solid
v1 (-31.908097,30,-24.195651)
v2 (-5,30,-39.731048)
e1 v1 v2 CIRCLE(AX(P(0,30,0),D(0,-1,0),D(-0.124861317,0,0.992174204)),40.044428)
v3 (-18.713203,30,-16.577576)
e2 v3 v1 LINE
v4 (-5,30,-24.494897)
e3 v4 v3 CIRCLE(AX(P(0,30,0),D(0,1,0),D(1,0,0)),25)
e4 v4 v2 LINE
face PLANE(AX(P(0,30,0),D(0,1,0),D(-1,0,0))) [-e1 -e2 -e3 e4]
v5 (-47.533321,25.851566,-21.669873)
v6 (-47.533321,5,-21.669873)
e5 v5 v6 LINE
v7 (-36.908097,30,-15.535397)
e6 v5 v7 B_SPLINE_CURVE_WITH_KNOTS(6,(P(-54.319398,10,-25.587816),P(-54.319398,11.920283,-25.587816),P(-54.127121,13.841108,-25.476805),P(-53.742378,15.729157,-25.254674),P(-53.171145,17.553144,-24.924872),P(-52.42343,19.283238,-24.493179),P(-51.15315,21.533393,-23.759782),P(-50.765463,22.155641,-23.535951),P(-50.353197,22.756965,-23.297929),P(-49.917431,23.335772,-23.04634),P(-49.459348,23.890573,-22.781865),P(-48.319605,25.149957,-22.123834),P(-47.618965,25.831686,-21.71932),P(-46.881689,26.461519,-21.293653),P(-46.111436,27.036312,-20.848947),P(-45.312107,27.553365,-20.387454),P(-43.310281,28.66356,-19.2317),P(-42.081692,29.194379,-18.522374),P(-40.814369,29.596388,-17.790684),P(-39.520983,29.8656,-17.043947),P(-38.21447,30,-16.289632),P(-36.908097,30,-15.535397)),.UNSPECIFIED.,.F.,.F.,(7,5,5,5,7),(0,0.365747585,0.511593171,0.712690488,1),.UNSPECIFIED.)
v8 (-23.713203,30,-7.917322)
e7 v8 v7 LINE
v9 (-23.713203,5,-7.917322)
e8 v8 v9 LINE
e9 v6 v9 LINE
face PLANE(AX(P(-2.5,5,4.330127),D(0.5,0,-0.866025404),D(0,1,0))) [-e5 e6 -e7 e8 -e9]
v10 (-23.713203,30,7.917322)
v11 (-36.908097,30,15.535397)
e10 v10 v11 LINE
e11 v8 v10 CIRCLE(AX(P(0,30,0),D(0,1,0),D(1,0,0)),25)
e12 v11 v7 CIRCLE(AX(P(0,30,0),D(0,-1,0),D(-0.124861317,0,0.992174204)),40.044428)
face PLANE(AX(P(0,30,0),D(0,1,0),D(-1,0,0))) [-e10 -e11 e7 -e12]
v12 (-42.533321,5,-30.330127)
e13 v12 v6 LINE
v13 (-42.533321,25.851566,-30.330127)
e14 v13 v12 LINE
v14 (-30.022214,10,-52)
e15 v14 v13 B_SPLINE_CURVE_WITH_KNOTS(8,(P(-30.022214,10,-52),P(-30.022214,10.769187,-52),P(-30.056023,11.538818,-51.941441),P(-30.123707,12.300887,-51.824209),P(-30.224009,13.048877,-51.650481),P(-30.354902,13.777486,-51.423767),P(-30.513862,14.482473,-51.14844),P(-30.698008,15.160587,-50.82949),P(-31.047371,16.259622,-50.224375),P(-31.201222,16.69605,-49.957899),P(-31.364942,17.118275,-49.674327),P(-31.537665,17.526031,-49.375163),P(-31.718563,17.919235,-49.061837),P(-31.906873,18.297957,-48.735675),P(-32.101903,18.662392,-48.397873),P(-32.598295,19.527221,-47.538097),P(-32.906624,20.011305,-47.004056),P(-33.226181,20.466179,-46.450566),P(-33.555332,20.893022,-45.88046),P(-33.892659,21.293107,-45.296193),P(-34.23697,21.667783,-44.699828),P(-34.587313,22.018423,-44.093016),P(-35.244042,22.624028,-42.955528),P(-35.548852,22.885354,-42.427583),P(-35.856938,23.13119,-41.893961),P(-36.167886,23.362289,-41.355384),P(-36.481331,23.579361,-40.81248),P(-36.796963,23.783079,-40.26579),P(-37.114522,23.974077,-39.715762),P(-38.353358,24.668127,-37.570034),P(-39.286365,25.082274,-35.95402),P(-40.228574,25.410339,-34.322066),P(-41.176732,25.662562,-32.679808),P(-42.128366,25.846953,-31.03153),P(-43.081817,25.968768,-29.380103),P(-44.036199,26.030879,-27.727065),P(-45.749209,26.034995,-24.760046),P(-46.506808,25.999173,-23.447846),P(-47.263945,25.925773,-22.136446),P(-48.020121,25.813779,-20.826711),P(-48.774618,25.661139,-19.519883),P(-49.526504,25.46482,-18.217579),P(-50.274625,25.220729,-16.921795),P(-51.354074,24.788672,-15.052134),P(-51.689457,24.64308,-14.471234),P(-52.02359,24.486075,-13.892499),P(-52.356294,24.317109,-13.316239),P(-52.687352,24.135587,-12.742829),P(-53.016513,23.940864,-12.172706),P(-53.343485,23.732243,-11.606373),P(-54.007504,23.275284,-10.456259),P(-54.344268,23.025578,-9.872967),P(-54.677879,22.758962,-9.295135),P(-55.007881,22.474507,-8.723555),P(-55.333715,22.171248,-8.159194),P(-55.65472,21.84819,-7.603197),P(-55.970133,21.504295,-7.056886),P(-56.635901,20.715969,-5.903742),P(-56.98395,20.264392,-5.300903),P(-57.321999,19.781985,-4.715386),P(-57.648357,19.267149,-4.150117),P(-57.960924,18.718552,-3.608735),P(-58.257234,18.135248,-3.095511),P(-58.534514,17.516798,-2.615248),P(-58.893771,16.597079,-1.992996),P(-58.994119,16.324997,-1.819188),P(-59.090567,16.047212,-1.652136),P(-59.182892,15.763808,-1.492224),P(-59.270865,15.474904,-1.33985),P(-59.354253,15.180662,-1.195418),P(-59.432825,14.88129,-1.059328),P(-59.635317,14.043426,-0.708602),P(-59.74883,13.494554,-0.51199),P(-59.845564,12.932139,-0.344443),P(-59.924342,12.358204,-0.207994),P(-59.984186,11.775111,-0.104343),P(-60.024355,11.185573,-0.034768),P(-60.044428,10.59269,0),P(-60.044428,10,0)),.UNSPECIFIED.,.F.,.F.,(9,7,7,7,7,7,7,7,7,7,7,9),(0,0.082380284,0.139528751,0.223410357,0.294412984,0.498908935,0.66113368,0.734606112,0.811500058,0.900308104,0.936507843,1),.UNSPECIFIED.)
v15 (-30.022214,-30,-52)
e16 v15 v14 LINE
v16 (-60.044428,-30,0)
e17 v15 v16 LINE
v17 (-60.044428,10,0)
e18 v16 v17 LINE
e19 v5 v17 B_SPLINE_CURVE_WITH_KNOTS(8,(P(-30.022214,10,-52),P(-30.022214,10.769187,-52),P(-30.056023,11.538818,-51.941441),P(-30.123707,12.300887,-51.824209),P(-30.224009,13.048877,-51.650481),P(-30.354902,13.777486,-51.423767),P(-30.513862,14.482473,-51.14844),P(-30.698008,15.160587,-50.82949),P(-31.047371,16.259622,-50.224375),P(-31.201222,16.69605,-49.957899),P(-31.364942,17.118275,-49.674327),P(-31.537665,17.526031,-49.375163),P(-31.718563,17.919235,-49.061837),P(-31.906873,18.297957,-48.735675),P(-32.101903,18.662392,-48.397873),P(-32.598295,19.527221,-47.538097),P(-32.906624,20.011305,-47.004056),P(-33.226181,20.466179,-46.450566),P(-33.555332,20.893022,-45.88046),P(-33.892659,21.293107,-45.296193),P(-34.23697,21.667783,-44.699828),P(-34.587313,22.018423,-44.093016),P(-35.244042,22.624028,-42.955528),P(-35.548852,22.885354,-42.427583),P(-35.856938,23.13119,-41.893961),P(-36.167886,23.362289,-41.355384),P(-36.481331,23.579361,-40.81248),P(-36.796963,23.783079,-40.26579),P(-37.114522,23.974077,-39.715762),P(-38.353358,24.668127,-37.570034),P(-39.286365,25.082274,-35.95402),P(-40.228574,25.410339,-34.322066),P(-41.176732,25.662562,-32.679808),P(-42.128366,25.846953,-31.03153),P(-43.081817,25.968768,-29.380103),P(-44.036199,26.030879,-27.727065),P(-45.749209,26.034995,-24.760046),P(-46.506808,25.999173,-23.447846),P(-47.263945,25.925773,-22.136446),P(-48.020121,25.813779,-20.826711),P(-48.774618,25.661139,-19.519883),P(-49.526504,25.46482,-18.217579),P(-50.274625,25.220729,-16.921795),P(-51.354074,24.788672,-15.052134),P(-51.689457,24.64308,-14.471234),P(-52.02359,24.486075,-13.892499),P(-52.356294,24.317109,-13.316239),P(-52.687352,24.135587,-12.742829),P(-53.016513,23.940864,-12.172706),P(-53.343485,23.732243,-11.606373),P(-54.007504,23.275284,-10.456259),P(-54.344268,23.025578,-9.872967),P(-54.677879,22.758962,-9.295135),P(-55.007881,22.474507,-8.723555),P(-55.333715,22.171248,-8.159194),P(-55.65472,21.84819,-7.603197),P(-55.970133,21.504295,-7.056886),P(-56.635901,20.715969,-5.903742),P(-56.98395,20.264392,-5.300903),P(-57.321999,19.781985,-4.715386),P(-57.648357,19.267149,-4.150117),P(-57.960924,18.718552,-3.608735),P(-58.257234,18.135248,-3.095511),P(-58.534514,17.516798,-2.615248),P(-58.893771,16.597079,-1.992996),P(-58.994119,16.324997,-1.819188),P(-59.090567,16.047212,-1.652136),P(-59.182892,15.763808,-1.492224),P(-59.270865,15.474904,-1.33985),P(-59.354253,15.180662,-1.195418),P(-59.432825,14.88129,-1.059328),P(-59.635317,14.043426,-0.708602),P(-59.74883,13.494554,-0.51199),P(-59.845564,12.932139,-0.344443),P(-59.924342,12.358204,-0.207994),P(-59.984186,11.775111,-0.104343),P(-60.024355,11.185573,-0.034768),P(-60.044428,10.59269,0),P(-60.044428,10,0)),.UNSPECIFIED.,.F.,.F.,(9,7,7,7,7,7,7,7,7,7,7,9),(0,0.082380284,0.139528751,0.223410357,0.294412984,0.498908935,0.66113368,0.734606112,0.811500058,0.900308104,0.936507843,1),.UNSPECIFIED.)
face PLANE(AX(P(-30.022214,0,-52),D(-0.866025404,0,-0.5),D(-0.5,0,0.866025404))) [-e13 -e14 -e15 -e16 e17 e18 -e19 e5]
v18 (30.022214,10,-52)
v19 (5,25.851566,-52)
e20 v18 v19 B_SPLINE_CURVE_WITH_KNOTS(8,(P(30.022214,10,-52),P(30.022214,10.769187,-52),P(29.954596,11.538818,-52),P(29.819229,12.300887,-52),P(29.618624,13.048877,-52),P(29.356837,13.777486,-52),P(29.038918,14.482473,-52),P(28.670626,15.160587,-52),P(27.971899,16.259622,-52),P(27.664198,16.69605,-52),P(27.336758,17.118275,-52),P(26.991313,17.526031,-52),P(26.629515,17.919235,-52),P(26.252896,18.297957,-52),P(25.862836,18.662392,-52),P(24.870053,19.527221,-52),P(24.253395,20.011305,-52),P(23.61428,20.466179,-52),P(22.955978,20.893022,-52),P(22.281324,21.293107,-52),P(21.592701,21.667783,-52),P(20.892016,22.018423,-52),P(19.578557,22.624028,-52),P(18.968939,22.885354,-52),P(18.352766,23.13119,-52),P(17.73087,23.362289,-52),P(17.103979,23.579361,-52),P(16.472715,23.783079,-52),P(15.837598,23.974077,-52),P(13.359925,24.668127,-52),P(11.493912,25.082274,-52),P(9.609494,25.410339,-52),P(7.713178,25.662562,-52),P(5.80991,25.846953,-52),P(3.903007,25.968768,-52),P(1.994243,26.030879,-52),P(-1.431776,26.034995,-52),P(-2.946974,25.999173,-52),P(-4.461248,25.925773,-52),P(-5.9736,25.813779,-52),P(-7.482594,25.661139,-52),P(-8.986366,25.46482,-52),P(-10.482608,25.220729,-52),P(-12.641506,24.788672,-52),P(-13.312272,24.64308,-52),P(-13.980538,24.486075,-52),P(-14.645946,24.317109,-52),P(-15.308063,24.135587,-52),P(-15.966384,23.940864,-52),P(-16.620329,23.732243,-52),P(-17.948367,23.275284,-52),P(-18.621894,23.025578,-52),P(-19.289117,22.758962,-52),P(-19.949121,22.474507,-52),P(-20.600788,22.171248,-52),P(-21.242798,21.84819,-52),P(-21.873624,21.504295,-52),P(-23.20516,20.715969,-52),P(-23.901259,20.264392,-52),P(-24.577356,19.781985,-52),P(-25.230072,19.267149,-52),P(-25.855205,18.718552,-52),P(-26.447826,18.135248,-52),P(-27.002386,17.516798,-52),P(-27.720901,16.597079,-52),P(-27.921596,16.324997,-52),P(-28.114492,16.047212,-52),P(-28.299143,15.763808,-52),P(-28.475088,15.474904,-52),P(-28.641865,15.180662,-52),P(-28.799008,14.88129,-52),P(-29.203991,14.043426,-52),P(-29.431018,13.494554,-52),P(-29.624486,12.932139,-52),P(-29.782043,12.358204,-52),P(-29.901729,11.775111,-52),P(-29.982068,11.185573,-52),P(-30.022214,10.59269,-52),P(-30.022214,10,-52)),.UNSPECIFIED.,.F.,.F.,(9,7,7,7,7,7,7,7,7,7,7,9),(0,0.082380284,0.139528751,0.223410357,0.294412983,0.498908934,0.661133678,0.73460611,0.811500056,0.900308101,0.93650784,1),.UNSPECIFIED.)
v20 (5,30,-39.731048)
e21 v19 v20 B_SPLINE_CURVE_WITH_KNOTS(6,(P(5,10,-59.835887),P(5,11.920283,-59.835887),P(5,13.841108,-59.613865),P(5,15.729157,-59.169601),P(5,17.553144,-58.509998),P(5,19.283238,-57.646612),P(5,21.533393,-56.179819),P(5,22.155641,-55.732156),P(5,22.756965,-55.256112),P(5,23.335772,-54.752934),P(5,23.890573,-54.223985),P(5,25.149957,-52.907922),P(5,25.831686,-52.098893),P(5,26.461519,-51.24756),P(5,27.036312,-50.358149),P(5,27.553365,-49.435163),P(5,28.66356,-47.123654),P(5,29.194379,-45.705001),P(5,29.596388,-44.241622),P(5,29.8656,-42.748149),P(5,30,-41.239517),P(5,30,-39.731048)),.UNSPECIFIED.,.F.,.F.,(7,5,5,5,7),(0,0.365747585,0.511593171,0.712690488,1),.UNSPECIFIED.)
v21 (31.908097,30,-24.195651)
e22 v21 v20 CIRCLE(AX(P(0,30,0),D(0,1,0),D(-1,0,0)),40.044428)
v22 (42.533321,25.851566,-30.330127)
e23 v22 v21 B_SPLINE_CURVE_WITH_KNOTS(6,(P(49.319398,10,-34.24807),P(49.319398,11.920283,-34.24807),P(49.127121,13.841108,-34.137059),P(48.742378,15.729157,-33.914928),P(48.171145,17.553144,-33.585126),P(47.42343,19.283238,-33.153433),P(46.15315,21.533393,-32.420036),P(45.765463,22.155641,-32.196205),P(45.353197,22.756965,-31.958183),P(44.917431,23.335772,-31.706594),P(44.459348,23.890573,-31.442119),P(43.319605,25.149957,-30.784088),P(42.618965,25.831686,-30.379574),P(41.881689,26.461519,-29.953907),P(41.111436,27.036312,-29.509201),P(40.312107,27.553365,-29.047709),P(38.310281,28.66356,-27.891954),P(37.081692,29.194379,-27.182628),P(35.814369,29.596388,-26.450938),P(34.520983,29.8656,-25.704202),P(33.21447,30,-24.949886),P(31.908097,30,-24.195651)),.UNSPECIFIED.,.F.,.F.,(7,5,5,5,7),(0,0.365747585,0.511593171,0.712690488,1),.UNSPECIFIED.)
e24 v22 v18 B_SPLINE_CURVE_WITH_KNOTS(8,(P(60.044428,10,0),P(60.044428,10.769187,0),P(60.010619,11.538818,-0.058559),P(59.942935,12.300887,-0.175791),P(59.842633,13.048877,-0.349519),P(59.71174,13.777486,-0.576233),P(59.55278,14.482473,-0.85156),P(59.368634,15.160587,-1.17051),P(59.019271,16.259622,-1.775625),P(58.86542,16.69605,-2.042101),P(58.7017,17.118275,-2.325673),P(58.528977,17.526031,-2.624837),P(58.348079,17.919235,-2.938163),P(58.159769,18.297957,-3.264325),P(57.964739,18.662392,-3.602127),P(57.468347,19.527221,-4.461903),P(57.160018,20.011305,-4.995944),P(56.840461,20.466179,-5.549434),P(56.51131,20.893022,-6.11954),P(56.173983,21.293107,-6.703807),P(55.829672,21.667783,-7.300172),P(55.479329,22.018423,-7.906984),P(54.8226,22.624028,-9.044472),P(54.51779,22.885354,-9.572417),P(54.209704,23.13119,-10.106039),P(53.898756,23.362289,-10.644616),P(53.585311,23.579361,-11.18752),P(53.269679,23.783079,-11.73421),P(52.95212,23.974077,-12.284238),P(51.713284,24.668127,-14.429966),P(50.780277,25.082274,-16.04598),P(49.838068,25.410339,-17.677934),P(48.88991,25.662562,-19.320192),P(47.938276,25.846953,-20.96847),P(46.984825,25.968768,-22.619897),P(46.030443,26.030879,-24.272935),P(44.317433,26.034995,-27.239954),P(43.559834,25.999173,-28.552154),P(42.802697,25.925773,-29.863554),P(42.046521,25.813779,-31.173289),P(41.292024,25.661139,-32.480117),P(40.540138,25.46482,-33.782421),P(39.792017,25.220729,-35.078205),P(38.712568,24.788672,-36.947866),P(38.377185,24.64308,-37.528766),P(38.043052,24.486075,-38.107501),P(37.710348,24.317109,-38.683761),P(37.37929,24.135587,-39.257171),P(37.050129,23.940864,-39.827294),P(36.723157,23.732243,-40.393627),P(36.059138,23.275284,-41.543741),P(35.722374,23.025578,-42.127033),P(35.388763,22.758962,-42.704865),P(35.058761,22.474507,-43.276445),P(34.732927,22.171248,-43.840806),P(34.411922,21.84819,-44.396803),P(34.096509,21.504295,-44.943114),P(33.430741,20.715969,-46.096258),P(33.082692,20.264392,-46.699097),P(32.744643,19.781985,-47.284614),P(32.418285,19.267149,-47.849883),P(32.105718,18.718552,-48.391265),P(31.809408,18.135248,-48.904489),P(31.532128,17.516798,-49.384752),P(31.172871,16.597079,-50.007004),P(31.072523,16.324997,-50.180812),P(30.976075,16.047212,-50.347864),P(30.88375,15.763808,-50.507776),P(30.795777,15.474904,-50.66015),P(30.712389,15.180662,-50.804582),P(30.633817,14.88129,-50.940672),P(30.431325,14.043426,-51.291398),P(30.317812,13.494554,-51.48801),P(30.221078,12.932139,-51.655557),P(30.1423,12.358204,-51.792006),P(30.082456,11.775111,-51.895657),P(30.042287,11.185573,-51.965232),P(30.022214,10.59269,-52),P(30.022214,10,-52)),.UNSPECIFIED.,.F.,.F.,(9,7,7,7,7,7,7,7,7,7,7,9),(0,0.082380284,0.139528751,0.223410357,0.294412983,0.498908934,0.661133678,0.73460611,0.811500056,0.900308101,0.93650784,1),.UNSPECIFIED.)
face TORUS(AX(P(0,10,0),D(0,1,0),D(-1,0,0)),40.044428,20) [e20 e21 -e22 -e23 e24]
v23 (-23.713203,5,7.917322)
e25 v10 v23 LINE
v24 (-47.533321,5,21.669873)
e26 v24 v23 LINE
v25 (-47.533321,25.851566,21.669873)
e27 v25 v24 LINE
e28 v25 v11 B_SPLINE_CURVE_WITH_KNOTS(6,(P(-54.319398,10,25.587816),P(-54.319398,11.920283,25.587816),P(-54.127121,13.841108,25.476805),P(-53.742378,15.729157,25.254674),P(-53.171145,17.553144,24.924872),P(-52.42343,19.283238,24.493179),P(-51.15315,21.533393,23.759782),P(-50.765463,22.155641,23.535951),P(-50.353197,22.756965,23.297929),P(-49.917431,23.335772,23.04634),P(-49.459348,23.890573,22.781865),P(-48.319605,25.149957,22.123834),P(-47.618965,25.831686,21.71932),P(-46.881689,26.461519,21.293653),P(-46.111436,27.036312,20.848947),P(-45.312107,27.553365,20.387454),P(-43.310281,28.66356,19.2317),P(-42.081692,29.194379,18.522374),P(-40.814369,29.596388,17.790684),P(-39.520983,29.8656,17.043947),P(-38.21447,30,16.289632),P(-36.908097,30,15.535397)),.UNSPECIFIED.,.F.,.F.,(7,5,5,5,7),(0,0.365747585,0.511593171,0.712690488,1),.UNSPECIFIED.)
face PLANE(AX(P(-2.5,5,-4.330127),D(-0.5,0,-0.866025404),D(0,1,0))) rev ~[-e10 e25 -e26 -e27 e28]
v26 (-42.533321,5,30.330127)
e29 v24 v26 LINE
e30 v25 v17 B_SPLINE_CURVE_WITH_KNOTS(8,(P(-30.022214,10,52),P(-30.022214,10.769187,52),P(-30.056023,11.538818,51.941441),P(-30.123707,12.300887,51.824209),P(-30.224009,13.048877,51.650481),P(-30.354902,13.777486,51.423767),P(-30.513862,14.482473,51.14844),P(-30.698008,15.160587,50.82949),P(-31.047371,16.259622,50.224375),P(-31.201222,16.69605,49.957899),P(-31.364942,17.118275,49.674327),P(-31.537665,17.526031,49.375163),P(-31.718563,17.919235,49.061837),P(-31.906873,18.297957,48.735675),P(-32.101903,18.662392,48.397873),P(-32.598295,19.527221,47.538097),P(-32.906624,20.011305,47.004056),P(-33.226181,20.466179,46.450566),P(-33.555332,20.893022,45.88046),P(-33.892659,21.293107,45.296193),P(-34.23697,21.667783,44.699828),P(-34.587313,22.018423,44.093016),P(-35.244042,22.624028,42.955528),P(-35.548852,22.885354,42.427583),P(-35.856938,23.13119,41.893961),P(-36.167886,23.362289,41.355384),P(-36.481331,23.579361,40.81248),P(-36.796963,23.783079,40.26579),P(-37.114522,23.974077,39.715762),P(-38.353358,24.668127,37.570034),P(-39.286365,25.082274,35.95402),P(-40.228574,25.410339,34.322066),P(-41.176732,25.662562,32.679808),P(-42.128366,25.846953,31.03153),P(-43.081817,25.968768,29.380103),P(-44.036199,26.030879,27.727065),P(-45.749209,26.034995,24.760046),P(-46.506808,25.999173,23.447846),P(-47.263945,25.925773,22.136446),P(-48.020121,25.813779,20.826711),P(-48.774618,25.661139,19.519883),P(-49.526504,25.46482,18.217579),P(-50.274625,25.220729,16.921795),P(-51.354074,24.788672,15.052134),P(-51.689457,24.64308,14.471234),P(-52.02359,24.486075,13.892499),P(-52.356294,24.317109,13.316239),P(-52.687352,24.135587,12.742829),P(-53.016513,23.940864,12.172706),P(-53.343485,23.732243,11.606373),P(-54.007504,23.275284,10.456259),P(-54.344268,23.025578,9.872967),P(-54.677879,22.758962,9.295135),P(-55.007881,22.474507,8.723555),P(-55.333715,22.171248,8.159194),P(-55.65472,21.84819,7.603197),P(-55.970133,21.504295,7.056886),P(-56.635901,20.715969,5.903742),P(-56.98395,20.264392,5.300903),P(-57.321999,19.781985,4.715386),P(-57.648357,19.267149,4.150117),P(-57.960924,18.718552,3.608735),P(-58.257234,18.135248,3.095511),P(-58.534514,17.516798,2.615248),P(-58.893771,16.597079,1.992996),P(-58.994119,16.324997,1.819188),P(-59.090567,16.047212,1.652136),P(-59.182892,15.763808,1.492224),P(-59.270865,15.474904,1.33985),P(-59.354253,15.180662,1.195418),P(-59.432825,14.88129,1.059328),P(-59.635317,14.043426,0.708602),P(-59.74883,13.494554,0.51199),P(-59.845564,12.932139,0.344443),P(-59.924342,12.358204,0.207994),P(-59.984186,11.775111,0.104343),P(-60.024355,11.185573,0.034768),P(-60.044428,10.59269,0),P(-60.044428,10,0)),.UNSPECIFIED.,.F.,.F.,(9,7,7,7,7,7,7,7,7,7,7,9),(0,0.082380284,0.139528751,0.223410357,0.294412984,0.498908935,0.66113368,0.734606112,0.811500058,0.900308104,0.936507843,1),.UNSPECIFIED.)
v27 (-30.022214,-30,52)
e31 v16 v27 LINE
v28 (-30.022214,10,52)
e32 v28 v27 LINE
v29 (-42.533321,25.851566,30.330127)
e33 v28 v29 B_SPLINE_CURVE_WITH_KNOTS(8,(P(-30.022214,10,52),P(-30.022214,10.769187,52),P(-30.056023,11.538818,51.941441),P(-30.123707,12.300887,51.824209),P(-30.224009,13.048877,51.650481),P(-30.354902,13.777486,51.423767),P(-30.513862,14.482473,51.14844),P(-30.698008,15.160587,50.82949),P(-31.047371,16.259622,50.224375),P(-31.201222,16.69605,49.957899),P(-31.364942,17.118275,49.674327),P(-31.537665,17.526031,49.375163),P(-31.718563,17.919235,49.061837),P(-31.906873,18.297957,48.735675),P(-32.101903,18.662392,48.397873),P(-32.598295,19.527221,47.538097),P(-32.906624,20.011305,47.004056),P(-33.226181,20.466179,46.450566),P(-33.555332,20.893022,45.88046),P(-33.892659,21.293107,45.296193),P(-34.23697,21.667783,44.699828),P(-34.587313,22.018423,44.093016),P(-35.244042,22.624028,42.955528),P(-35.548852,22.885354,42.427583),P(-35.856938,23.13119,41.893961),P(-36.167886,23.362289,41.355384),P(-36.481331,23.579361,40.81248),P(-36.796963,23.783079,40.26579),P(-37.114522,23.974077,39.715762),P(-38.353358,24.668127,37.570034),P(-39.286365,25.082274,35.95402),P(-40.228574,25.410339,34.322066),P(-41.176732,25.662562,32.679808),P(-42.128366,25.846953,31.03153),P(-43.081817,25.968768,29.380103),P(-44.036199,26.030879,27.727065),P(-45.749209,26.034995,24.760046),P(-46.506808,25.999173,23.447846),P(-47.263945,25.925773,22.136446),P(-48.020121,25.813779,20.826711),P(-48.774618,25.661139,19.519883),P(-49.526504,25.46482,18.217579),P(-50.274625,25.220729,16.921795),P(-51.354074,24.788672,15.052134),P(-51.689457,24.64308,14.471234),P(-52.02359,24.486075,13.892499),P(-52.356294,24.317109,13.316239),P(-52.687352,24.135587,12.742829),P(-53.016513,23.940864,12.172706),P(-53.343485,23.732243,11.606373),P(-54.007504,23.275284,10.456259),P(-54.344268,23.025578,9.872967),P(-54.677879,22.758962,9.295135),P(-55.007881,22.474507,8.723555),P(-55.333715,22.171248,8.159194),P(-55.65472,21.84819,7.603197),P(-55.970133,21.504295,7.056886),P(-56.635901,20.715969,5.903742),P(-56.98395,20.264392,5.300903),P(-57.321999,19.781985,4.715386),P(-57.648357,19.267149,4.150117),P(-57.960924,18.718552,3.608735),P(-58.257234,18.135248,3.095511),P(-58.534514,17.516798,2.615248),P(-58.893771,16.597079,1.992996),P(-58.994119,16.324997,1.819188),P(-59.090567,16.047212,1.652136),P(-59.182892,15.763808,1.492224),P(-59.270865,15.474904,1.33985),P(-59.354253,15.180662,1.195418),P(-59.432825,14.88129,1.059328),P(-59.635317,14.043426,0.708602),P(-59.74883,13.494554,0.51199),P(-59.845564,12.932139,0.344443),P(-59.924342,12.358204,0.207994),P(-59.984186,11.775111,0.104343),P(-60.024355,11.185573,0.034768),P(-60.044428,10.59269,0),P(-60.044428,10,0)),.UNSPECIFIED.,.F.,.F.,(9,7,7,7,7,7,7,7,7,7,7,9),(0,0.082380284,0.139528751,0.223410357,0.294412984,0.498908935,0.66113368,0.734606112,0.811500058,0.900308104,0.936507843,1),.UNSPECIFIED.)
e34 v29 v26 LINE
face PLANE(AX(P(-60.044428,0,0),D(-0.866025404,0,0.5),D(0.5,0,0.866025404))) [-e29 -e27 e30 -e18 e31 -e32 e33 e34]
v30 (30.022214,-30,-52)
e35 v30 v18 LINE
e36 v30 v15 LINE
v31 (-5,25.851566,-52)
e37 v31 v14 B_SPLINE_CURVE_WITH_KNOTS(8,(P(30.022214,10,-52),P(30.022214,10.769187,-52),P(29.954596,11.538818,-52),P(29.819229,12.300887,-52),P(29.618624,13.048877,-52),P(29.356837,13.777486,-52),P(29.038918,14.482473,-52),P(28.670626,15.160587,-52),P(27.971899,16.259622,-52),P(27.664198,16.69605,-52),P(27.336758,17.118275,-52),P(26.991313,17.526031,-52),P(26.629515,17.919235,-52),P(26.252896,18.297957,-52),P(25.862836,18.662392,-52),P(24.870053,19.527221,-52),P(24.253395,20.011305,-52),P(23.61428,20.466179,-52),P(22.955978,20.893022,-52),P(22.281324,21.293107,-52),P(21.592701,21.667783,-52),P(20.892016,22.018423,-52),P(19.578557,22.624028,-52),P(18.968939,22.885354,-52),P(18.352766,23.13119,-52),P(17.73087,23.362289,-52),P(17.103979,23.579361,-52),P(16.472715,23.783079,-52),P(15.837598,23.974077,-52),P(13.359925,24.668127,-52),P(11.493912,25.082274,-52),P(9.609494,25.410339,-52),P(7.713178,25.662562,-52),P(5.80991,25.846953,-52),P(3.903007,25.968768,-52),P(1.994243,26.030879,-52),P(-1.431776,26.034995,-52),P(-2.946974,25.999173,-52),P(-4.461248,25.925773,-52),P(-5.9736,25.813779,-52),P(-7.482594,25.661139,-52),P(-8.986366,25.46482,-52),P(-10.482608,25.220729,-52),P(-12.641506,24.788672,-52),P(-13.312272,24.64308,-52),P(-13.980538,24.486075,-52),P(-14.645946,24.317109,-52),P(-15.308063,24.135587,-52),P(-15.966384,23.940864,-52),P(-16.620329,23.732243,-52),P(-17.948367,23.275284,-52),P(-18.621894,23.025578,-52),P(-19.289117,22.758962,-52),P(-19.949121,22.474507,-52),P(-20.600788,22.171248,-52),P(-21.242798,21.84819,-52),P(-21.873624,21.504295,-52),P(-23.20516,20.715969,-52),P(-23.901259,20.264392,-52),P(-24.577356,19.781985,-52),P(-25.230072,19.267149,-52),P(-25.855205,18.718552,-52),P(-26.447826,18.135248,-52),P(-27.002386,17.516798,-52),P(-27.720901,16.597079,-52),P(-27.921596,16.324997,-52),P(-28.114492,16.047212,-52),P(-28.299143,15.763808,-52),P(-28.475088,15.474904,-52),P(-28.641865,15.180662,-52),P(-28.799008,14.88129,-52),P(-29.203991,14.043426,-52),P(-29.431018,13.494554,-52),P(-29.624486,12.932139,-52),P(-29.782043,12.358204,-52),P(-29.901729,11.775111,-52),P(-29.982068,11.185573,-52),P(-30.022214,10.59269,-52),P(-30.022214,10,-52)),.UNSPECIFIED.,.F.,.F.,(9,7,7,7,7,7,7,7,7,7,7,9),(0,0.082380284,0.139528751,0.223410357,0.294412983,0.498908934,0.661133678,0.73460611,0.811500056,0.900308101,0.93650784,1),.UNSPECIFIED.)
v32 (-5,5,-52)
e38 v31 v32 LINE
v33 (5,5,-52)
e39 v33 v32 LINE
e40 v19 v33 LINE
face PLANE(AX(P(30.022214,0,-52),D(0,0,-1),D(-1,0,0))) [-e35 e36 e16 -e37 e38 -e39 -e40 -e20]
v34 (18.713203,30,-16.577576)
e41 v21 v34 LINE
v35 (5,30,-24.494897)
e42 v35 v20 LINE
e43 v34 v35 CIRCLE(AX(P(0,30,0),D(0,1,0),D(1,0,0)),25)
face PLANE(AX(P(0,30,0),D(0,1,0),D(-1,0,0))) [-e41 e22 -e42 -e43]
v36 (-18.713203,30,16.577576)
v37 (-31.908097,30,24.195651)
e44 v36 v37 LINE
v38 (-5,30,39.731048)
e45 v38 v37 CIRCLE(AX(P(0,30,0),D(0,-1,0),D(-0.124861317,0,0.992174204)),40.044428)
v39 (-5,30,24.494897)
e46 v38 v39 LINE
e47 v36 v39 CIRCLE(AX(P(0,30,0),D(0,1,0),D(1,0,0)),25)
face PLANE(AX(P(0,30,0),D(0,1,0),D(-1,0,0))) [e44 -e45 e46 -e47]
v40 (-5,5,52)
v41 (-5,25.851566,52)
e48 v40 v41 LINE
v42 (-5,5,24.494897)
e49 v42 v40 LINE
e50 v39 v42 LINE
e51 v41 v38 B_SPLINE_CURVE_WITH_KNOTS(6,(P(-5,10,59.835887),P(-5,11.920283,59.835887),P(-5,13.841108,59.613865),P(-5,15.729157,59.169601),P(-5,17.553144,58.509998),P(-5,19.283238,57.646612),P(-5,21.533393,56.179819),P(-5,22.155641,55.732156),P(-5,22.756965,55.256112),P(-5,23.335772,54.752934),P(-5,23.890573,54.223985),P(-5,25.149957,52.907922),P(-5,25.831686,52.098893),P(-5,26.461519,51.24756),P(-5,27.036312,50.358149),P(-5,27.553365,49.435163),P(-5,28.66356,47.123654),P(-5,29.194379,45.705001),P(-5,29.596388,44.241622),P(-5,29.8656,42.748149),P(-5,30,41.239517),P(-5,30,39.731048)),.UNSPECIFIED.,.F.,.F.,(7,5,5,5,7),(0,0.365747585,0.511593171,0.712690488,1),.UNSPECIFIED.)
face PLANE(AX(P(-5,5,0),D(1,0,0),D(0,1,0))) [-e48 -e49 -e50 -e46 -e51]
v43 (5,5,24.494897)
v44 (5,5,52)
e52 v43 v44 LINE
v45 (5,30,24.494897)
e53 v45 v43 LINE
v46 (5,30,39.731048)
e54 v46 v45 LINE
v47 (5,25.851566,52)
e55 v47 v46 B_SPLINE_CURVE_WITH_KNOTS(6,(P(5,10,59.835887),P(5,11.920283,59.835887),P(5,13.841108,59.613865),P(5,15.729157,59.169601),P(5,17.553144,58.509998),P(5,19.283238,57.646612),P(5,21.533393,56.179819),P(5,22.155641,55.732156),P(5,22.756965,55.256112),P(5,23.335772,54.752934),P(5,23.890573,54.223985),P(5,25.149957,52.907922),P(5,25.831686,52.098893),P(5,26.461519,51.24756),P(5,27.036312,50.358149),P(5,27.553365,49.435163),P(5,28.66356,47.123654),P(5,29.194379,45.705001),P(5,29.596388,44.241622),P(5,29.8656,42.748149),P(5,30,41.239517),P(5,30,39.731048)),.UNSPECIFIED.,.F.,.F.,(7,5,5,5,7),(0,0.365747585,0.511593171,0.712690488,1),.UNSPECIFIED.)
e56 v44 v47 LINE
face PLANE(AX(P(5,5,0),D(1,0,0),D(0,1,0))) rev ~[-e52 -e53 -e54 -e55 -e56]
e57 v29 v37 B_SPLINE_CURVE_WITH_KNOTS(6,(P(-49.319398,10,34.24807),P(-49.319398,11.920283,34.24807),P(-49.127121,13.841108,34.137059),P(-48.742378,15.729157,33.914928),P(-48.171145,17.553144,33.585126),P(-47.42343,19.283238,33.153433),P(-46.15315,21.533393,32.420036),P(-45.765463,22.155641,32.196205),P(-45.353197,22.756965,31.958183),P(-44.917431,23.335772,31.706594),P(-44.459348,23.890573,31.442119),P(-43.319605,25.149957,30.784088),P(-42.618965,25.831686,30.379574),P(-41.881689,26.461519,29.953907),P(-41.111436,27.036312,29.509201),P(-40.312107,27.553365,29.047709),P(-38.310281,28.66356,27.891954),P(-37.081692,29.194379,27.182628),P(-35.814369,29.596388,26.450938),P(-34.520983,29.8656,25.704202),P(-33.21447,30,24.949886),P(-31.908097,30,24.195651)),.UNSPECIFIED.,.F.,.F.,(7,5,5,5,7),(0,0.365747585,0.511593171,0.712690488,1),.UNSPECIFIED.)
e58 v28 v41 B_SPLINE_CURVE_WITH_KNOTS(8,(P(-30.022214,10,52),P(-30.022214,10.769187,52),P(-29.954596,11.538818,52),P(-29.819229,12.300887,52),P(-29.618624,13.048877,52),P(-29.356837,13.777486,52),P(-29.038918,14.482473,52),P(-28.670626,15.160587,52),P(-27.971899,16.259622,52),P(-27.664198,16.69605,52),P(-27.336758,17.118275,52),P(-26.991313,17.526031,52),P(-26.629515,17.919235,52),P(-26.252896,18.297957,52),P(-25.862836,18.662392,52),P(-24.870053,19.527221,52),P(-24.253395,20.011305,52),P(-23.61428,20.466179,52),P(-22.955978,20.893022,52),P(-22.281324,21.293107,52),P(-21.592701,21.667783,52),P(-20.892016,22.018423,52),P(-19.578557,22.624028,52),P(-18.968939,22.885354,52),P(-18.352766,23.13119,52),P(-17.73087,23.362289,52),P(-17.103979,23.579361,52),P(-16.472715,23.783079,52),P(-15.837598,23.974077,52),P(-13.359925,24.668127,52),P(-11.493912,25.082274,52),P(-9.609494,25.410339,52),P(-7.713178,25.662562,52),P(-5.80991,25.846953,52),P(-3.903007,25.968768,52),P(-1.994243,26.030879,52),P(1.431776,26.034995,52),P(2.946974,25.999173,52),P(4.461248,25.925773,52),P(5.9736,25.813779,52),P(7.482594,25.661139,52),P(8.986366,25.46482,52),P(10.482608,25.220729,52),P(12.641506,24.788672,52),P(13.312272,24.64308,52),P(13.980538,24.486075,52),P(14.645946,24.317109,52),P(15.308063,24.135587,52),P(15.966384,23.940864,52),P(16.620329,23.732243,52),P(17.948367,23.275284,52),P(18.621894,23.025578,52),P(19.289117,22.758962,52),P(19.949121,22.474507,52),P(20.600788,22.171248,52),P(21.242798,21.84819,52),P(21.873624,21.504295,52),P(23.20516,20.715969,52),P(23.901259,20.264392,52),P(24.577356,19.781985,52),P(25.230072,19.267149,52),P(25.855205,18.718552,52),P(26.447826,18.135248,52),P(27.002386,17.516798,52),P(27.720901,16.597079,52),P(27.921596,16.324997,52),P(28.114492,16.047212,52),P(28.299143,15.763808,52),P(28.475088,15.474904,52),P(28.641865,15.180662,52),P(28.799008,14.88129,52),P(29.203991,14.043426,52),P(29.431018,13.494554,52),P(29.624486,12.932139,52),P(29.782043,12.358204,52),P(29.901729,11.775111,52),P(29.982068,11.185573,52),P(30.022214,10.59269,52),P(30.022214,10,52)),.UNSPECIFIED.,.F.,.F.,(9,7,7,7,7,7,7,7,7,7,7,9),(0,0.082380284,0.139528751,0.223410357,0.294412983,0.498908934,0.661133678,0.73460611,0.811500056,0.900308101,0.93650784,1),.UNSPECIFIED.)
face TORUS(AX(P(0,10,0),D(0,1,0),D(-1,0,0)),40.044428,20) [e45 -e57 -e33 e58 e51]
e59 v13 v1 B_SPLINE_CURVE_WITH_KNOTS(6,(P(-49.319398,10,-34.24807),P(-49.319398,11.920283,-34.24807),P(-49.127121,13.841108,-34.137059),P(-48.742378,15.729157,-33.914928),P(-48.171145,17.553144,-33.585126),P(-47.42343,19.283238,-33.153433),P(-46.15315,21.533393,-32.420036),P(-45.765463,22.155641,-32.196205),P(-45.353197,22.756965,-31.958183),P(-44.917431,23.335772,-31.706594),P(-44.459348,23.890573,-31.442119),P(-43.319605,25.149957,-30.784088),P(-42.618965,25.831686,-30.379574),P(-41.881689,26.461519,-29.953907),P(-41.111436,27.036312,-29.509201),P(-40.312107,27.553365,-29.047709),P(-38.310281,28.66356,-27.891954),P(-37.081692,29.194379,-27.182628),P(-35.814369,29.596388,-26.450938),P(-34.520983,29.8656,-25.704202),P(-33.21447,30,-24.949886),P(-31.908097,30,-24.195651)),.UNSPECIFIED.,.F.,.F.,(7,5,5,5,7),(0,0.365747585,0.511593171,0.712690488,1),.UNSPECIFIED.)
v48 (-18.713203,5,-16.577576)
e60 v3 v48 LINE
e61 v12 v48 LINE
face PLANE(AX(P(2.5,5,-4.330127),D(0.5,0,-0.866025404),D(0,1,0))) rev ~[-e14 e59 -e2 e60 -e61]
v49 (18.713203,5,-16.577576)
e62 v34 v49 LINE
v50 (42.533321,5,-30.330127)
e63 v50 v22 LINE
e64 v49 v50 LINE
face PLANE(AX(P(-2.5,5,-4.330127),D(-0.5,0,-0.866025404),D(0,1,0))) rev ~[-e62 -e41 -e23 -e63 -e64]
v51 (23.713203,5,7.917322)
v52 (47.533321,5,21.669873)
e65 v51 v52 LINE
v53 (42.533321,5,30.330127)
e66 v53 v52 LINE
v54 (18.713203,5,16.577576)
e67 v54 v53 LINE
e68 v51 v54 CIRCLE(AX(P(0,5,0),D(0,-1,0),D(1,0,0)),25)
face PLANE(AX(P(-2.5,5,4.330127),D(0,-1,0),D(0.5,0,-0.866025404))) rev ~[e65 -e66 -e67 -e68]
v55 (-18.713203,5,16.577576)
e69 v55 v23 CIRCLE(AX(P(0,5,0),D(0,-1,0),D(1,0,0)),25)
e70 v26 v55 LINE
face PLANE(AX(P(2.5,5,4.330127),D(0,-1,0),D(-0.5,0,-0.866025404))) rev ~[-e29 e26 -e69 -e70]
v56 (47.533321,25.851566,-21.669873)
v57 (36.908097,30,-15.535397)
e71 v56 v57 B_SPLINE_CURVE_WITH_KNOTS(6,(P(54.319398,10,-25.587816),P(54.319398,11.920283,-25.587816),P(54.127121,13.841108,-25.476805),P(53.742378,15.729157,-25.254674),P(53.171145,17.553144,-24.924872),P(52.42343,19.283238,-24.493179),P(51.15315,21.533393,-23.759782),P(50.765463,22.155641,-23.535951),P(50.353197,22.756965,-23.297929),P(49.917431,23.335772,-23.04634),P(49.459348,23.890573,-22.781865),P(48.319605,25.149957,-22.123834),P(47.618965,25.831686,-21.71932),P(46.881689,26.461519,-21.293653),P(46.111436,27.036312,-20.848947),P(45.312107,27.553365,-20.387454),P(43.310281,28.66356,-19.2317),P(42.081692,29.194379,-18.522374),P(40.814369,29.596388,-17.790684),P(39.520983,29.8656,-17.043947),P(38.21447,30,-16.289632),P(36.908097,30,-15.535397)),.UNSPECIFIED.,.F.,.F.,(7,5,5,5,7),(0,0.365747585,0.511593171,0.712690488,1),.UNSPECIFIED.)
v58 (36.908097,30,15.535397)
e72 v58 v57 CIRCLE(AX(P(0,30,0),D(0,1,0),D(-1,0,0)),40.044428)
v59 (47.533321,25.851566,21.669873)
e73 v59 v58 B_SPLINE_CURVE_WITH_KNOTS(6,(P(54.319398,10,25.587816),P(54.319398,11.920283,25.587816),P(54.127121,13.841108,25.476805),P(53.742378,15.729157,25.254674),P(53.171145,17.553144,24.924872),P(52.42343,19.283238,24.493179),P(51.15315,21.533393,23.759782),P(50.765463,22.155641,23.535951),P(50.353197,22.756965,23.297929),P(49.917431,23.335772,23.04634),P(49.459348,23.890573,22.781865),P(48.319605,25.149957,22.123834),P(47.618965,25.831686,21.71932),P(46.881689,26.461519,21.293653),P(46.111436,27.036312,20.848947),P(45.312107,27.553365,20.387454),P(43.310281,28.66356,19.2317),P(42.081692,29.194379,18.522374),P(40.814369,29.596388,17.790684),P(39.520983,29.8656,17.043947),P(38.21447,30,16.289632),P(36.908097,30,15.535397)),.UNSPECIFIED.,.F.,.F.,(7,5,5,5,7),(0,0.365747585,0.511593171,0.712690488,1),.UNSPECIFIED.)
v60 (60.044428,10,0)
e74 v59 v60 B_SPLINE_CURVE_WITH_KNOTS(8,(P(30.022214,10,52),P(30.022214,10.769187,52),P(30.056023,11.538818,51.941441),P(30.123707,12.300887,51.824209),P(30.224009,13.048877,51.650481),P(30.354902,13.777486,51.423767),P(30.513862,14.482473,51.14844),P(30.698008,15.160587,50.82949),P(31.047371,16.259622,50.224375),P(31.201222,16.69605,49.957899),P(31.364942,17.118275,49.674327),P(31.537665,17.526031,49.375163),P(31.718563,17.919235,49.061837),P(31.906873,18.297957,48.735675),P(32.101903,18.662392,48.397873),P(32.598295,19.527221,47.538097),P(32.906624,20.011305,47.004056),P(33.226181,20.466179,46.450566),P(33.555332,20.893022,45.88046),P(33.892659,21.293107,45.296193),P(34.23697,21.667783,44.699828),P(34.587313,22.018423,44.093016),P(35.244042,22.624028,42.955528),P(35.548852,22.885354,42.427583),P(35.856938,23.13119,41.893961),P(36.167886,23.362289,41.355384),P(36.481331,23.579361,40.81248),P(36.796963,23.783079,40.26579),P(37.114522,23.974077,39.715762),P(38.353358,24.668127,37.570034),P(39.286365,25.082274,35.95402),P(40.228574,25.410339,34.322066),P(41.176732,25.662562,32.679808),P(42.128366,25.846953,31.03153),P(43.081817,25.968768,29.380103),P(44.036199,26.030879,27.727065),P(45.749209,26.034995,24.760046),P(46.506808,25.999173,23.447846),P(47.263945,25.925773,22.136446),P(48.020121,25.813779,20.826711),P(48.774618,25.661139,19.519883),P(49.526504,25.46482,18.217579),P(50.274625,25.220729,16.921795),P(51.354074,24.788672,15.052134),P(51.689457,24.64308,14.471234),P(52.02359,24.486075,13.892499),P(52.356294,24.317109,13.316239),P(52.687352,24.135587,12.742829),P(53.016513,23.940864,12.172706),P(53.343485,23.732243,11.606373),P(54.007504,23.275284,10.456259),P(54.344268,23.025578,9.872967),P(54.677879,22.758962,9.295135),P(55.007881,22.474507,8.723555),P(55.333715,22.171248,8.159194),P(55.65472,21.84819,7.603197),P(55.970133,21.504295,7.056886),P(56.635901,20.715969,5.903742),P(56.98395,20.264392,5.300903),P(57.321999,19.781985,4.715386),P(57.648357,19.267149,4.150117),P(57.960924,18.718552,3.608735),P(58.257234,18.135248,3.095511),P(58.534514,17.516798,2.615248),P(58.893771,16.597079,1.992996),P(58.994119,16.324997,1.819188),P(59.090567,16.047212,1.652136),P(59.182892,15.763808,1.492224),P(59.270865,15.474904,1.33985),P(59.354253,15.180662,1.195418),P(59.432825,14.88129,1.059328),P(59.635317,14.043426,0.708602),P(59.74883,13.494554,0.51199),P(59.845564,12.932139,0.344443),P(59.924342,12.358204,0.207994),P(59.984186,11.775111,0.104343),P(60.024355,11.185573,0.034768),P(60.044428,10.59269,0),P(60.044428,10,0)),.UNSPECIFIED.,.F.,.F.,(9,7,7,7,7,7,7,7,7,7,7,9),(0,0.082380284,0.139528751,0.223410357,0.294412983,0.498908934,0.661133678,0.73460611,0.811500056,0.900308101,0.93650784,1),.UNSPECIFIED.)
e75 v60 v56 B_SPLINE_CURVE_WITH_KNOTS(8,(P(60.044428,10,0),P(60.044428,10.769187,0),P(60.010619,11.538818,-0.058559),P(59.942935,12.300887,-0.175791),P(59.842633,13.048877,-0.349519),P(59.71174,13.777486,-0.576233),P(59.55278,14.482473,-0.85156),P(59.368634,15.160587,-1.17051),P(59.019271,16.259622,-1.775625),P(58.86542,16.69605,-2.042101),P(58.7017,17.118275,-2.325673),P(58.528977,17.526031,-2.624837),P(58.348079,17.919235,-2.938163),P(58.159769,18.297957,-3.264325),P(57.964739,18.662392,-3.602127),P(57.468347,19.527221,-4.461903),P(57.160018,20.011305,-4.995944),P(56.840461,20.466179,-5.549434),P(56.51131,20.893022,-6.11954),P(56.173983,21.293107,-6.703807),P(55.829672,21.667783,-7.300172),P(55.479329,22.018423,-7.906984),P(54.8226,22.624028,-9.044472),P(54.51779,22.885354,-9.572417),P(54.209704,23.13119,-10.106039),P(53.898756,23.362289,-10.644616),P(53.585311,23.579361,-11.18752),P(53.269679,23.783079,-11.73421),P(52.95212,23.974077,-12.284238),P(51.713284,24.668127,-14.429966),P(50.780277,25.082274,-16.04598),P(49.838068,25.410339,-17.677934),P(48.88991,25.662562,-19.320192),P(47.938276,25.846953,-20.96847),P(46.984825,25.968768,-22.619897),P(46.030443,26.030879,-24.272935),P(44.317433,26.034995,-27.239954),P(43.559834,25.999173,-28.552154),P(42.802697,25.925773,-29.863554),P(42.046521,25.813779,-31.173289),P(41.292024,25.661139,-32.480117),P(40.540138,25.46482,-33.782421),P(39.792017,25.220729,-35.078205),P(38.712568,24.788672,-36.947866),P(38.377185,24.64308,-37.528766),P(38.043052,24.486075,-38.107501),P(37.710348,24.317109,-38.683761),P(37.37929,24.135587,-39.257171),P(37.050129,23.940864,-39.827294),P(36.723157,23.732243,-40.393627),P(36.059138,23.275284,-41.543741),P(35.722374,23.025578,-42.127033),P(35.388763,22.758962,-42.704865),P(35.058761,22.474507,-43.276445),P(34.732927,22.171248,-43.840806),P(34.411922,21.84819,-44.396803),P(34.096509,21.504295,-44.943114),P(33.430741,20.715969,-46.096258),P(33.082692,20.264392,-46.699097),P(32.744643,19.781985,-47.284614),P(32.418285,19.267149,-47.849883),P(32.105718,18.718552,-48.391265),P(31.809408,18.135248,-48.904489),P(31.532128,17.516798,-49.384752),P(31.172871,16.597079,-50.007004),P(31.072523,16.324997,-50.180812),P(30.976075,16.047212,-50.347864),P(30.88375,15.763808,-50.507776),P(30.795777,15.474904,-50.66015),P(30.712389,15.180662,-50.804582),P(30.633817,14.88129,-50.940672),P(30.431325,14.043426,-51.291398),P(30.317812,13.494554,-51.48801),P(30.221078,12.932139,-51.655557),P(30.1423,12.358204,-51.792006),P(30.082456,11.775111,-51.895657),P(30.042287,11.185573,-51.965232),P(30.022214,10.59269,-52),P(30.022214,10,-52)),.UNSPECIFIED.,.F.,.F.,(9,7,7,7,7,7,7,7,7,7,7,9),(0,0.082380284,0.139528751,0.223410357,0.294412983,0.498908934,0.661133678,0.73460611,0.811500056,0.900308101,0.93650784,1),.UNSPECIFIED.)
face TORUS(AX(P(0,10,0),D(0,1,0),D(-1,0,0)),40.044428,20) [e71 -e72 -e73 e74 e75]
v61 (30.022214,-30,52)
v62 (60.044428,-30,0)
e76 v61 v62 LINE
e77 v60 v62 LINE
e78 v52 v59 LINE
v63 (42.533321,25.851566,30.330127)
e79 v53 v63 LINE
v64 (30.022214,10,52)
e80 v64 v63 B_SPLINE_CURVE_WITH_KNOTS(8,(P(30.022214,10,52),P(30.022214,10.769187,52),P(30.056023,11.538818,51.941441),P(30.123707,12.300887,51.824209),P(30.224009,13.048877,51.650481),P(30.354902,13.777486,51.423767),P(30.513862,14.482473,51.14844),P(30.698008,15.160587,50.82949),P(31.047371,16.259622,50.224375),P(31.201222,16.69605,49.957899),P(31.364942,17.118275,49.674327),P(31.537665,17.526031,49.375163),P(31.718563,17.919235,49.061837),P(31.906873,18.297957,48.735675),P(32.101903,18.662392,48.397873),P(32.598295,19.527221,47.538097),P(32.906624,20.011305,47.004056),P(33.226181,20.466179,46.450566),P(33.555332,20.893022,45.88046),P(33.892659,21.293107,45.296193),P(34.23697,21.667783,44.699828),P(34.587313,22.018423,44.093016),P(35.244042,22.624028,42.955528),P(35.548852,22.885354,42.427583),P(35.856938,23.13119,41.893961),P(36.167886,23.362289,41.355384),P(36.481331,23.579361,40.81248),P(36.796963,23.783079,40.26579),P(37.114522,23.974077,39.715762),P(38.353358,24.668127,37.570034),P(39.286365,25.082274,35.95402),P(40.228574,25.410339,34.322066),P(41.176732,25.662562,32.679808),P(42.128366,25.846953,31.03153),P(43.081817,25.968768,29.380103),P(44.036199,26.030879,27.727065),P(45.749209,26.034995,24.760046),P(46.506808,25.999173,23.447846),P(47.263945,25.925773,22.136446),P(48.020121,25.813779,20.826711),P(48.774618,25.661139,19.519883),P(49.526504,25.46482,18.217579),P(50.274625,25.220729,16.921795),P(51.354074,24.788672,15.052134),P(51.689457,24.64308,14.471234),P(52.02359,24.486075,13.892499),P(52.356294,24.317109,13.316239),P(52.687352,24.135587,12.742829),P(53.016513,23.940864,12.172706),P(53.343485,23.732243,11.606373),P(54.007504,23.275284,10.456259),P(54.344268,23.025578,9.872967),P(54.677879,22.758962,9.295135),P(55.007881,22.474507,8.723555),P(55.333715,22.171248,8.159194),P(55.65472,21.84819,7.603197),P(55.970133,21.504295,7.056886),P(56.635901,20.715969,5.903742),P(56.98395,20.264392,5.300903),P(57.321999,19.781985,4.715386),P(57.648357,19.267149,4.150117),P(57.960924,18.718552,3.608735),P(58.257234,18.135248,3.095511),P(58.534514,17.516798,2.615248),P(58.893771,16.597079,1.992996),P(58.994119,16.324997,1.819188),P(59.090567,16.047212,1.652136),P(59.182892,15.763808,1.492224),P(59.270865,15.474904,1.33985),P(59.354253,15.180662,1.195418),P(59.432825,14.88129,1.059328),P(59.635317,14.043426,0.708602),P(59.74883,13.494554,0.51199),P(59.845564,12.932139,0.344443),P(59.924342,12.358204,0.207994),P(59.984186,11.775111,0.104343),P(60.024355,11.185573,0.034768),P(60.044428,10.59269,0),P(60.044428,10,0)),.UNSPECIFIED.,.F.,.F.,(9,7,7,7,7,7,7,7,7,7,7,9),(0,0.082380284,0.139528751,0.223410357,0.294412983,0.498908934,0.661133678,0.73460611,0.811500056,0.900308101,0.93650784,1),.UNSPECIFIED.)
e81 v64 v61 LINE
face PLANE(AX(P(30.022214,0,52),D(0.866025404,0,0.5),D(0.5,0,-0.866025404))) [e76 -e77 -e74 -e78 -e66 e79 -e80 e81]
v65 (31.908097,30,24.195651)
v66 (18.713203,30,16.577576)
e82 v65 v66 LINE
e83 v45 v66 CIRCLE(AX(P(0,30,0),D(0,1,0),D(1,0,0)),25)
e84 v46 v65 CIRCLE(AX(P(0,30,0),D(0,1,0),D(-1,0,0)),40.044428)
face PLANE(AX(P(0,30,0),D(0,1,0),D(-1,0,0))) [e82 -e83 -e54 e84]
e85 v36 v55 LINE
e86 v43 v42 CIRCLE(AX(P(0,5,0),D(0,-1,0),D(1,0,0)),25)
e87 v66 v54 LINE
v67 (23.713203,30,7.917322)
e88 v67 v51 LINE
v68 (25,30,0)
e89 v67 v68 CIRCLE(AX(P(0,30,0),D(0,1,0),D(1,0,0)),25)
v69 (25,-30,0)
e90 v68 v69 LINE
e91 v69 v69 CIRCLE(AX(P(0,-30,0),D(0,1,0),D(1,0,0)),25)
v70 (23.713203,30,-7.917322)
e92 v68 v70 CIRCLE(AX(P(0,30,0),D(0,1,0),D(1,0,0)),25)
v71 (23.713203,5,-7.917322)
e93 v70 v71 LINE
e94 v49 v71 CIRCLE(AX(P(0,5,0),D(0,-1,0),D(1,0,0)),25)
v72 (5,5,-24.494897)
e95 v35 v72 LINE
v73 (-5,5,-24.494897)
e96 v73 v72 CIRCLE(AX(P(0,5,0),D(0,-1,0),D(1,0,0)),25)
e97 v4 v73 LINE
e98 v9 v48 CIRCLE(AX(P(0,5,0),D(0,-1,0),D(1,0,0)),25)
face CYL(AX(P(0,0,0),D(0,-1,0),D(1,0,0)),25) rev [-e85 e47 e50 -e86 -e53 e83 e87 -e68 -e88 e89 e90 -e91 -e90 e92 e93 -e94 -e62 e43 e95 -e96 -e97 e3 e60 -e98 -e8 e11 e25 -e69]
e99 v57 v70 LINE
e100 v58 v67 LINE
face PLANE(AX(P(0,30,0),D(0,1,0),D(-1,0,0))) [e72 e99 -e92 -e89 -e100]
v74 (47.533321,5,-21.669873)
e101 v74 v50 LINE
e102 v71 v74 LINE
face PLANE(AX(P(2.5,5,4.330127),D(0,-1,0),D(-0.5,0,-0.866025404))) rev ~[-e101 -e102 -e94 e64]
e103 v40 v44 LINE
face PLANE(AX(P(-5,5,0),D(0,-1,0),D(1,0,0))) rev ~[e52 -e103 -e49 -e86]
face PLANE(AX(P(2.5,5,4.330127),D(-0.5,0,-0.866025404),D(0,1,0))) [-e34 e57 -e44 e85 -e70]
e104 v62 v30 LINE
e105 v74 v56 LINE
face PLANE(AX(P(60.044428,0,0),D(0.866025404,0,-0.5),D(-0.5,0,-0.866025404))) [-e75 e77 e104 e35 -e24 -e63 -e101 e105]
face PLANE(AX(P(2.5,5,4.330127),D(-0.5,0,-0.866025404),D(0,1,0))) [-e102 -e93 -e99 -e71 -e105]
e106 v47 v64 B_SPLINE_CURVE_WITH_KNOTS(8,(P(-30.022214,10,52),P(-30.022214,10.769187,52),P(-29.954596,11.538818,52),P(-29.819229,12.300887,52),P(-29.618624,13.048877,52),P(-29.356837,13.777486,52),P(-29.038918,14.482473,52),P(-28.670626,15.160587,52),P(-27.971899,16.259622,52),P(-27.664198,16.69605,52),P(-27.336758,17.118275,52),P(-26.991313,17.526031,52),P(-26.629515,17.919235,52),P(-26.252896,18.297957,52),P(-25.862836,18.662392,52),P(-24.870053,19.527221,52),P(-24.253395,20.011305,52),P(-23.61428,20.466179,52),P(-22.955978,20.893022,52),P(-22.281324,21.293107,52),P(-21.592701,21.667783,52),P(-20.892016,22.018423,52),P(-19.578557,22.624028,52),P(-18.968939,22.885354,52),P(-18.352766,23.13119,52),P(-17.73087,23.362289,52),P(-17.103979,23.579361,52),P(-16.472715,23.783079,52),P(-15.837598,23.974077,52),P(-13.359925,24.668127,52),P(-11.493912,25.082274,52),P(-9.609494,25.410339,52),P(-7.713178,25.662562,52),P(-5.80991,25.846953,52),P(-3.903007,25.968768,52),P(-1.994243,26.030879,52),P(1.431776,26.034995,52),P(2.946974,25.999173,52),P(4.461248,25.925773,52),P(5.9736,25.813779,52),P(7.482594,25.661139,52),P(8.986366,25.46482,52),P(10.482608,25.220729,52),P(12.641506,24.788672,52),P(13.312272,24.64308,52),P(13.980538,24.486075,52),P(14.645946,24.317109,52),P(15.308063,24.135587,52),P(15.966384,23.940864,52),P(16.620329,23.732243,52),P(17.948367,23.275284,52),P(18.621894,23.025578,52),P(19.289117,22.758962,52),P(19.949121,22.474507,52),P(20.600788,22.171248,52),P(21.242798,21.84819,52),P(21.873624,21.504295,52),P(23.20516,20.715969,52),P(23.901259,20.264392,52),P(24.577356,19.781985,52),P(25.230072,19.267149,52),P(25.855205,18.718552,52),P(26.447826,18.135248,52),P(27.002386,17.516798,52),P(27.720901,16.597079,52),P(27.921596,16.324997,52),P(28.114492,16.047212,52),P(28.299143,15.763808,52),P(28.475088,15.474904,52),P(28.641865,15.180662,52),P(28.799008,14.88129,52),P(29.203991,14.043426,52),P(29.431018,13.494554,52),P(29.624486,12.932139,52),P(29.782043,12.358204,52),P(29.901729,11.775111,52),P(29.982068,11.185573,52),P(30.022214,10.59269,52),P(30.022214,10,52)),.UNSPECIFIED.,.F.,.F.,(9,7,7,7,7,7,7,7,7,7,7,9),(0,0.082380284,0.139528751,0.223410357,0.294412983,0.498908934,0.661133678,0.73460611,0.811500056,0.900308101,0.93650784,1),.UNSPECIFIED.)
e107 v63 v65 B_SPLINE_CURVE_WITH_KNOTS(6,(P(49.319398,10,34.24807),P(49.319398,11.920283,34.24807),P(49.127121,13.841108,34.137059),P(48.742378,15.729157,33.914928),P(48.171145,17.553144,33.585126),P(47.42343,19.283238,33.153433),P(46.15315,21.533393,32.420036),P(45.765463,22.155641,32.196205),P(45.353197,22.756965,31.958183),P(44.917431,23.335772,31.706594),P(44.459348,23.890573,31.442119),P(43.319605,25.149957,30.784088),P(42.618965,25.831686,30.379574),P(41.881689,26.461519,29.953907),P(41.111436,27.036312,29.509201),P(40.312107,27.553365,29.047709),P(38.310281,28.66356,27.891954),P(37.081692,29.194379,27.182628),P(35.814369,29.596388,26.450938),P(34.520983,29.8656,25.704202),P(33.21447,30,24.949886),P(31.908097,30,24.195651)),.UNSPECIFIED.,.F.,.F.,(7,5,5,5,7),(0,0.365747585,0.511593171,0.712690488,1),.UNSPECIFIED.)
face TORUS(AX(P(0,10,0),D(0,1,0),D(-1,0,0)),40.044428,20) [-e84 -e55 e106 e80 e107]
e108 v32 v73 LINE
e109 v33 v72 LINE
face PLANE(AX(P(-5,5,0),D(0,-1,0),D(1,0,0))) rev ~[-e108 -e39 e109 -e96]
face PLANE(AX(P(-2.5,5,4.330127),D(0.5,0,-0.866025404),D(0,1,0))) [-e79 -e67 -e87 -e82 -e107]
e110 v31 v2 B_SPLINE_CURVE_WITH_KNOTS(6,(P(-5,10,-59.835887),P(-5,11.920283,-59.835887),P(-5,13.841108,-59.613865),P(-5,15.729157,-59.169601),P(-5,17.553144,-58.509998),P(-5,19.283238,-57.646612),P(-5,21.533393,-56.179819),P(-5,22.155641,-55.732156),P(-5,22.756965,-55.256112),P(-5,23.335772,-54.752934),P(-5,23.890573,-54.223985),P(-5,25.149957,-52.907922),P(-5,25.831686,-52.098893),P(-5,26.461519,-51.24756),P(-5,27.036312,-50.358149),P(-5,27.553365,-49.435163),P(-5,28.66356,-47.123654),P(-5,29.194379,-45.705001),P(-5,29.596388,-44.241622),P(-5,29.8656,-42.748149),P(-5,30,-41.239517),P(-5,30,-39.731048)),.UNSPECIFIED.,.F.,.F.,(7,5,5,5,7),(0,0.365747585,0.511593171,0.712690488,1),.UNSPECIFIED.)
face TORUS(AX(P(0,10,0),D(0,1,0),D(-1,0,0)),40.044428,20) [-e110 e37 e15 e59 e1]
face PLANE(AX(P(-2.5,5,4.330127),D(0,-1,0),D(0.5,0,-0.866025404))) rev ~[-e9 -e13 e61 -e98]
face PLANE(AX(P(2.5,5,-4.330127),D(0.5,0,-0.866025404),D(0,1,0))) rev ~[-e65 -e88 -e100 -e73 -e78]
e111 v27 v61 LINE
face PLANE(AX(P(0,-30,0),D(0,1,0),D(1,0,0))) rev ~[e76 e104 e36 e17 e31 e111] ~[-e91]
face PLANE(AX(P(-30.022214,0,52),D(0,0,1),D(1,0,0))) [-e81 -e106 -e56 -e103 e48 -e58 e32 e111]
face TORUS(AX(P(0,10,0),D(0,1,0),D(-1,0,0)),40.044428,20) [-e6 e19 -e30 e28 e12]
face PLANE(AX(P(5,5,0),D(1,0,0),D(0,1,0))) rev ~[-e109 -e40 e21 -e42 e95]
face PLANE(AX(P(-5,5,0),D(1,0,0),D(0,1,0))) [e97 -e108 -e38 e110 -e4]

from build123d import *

# Parameters (mm, degrees)
SKETCH1_R           = 25
BOSS_EXTRUDE1_DEPTH = 30
SKETCH5_W           = 10
SKETCH5_H           = 25
CUT_EXTRUDE1_DEPTH  = 67.5
CIRPATTERN1_COUNT   = 6


with BuildPart() as part:
    # Sketch1 → Boss-Extrude1 (new body, symmetric)
    with BuildSketch(Plane(origin=(0, 0, 0), x_dir=(1, 0, 0), z_dir=(0, 1, 0))):
        Polygon((60.044427996, 0), (30.022213998, 52), (-30.022213998, 52), (-60.044427996, 0), (-30.022213998, -52), (30.022213998, -52), align=None)
        Circle(SKETCH1_R, mode=Mode.SUBTRACT)
    extrude(amount=BOSS_EXTRUDE1_DEPTH, both=True)

    # Sketch2 → Cut-Revolve1 (revolve, cut)
    with BuildSketch(Plane.XY):
        with BuildLine():
            Line((-40.044427996, 30), (-34.208162737, 30))
            Line((-34.208162737, 30), (-58.877547107, 44.81594619))
            Line((-58.877547107, 44.81594619), (-76.317667411, 24.773030895))
            Line((-76.317667411, 24.773030895), (-60.044427996, 5.345025428))
            Line((-60.044427996, 5.345025428), (-60.044427996, 10))
            ThreePointArc((-60.044427996, 10), (-54.186563619, 24.142135624), (-40.044427996, 30))
        make_face()
    revolve(axis=Axis((0, 0, 0), (0, 1, 0)), mode=Mode.SUBTRACT)

    # Sketch5 → Cut-Extrude1 (cut, symmetric)
    with BuildSketch(Plane.XY):
        with Locations((0, 17.5)):
            Rectangle(SKETCH5_W, SKETCH5_H)
    cut_extrude1 = extrude(amount=CUT_EXTRUDE1_DEPTH, both=True, mode=Mode.SUBTRACT)

    # CirPattern1: Cut-Extrude1 ×6 about axis
    cirpattern1_axis = Axis((0, 0, 0), (0, 1, 0))
    for i in range(1, CIRPATTERN1_COUNT):
        add(cut_extrude1.rotate(cirpattern1_axis, i * 360 / CIRPATTERN1_COUNT), mode=Mode.SUBTRACT)


solid = part.part
